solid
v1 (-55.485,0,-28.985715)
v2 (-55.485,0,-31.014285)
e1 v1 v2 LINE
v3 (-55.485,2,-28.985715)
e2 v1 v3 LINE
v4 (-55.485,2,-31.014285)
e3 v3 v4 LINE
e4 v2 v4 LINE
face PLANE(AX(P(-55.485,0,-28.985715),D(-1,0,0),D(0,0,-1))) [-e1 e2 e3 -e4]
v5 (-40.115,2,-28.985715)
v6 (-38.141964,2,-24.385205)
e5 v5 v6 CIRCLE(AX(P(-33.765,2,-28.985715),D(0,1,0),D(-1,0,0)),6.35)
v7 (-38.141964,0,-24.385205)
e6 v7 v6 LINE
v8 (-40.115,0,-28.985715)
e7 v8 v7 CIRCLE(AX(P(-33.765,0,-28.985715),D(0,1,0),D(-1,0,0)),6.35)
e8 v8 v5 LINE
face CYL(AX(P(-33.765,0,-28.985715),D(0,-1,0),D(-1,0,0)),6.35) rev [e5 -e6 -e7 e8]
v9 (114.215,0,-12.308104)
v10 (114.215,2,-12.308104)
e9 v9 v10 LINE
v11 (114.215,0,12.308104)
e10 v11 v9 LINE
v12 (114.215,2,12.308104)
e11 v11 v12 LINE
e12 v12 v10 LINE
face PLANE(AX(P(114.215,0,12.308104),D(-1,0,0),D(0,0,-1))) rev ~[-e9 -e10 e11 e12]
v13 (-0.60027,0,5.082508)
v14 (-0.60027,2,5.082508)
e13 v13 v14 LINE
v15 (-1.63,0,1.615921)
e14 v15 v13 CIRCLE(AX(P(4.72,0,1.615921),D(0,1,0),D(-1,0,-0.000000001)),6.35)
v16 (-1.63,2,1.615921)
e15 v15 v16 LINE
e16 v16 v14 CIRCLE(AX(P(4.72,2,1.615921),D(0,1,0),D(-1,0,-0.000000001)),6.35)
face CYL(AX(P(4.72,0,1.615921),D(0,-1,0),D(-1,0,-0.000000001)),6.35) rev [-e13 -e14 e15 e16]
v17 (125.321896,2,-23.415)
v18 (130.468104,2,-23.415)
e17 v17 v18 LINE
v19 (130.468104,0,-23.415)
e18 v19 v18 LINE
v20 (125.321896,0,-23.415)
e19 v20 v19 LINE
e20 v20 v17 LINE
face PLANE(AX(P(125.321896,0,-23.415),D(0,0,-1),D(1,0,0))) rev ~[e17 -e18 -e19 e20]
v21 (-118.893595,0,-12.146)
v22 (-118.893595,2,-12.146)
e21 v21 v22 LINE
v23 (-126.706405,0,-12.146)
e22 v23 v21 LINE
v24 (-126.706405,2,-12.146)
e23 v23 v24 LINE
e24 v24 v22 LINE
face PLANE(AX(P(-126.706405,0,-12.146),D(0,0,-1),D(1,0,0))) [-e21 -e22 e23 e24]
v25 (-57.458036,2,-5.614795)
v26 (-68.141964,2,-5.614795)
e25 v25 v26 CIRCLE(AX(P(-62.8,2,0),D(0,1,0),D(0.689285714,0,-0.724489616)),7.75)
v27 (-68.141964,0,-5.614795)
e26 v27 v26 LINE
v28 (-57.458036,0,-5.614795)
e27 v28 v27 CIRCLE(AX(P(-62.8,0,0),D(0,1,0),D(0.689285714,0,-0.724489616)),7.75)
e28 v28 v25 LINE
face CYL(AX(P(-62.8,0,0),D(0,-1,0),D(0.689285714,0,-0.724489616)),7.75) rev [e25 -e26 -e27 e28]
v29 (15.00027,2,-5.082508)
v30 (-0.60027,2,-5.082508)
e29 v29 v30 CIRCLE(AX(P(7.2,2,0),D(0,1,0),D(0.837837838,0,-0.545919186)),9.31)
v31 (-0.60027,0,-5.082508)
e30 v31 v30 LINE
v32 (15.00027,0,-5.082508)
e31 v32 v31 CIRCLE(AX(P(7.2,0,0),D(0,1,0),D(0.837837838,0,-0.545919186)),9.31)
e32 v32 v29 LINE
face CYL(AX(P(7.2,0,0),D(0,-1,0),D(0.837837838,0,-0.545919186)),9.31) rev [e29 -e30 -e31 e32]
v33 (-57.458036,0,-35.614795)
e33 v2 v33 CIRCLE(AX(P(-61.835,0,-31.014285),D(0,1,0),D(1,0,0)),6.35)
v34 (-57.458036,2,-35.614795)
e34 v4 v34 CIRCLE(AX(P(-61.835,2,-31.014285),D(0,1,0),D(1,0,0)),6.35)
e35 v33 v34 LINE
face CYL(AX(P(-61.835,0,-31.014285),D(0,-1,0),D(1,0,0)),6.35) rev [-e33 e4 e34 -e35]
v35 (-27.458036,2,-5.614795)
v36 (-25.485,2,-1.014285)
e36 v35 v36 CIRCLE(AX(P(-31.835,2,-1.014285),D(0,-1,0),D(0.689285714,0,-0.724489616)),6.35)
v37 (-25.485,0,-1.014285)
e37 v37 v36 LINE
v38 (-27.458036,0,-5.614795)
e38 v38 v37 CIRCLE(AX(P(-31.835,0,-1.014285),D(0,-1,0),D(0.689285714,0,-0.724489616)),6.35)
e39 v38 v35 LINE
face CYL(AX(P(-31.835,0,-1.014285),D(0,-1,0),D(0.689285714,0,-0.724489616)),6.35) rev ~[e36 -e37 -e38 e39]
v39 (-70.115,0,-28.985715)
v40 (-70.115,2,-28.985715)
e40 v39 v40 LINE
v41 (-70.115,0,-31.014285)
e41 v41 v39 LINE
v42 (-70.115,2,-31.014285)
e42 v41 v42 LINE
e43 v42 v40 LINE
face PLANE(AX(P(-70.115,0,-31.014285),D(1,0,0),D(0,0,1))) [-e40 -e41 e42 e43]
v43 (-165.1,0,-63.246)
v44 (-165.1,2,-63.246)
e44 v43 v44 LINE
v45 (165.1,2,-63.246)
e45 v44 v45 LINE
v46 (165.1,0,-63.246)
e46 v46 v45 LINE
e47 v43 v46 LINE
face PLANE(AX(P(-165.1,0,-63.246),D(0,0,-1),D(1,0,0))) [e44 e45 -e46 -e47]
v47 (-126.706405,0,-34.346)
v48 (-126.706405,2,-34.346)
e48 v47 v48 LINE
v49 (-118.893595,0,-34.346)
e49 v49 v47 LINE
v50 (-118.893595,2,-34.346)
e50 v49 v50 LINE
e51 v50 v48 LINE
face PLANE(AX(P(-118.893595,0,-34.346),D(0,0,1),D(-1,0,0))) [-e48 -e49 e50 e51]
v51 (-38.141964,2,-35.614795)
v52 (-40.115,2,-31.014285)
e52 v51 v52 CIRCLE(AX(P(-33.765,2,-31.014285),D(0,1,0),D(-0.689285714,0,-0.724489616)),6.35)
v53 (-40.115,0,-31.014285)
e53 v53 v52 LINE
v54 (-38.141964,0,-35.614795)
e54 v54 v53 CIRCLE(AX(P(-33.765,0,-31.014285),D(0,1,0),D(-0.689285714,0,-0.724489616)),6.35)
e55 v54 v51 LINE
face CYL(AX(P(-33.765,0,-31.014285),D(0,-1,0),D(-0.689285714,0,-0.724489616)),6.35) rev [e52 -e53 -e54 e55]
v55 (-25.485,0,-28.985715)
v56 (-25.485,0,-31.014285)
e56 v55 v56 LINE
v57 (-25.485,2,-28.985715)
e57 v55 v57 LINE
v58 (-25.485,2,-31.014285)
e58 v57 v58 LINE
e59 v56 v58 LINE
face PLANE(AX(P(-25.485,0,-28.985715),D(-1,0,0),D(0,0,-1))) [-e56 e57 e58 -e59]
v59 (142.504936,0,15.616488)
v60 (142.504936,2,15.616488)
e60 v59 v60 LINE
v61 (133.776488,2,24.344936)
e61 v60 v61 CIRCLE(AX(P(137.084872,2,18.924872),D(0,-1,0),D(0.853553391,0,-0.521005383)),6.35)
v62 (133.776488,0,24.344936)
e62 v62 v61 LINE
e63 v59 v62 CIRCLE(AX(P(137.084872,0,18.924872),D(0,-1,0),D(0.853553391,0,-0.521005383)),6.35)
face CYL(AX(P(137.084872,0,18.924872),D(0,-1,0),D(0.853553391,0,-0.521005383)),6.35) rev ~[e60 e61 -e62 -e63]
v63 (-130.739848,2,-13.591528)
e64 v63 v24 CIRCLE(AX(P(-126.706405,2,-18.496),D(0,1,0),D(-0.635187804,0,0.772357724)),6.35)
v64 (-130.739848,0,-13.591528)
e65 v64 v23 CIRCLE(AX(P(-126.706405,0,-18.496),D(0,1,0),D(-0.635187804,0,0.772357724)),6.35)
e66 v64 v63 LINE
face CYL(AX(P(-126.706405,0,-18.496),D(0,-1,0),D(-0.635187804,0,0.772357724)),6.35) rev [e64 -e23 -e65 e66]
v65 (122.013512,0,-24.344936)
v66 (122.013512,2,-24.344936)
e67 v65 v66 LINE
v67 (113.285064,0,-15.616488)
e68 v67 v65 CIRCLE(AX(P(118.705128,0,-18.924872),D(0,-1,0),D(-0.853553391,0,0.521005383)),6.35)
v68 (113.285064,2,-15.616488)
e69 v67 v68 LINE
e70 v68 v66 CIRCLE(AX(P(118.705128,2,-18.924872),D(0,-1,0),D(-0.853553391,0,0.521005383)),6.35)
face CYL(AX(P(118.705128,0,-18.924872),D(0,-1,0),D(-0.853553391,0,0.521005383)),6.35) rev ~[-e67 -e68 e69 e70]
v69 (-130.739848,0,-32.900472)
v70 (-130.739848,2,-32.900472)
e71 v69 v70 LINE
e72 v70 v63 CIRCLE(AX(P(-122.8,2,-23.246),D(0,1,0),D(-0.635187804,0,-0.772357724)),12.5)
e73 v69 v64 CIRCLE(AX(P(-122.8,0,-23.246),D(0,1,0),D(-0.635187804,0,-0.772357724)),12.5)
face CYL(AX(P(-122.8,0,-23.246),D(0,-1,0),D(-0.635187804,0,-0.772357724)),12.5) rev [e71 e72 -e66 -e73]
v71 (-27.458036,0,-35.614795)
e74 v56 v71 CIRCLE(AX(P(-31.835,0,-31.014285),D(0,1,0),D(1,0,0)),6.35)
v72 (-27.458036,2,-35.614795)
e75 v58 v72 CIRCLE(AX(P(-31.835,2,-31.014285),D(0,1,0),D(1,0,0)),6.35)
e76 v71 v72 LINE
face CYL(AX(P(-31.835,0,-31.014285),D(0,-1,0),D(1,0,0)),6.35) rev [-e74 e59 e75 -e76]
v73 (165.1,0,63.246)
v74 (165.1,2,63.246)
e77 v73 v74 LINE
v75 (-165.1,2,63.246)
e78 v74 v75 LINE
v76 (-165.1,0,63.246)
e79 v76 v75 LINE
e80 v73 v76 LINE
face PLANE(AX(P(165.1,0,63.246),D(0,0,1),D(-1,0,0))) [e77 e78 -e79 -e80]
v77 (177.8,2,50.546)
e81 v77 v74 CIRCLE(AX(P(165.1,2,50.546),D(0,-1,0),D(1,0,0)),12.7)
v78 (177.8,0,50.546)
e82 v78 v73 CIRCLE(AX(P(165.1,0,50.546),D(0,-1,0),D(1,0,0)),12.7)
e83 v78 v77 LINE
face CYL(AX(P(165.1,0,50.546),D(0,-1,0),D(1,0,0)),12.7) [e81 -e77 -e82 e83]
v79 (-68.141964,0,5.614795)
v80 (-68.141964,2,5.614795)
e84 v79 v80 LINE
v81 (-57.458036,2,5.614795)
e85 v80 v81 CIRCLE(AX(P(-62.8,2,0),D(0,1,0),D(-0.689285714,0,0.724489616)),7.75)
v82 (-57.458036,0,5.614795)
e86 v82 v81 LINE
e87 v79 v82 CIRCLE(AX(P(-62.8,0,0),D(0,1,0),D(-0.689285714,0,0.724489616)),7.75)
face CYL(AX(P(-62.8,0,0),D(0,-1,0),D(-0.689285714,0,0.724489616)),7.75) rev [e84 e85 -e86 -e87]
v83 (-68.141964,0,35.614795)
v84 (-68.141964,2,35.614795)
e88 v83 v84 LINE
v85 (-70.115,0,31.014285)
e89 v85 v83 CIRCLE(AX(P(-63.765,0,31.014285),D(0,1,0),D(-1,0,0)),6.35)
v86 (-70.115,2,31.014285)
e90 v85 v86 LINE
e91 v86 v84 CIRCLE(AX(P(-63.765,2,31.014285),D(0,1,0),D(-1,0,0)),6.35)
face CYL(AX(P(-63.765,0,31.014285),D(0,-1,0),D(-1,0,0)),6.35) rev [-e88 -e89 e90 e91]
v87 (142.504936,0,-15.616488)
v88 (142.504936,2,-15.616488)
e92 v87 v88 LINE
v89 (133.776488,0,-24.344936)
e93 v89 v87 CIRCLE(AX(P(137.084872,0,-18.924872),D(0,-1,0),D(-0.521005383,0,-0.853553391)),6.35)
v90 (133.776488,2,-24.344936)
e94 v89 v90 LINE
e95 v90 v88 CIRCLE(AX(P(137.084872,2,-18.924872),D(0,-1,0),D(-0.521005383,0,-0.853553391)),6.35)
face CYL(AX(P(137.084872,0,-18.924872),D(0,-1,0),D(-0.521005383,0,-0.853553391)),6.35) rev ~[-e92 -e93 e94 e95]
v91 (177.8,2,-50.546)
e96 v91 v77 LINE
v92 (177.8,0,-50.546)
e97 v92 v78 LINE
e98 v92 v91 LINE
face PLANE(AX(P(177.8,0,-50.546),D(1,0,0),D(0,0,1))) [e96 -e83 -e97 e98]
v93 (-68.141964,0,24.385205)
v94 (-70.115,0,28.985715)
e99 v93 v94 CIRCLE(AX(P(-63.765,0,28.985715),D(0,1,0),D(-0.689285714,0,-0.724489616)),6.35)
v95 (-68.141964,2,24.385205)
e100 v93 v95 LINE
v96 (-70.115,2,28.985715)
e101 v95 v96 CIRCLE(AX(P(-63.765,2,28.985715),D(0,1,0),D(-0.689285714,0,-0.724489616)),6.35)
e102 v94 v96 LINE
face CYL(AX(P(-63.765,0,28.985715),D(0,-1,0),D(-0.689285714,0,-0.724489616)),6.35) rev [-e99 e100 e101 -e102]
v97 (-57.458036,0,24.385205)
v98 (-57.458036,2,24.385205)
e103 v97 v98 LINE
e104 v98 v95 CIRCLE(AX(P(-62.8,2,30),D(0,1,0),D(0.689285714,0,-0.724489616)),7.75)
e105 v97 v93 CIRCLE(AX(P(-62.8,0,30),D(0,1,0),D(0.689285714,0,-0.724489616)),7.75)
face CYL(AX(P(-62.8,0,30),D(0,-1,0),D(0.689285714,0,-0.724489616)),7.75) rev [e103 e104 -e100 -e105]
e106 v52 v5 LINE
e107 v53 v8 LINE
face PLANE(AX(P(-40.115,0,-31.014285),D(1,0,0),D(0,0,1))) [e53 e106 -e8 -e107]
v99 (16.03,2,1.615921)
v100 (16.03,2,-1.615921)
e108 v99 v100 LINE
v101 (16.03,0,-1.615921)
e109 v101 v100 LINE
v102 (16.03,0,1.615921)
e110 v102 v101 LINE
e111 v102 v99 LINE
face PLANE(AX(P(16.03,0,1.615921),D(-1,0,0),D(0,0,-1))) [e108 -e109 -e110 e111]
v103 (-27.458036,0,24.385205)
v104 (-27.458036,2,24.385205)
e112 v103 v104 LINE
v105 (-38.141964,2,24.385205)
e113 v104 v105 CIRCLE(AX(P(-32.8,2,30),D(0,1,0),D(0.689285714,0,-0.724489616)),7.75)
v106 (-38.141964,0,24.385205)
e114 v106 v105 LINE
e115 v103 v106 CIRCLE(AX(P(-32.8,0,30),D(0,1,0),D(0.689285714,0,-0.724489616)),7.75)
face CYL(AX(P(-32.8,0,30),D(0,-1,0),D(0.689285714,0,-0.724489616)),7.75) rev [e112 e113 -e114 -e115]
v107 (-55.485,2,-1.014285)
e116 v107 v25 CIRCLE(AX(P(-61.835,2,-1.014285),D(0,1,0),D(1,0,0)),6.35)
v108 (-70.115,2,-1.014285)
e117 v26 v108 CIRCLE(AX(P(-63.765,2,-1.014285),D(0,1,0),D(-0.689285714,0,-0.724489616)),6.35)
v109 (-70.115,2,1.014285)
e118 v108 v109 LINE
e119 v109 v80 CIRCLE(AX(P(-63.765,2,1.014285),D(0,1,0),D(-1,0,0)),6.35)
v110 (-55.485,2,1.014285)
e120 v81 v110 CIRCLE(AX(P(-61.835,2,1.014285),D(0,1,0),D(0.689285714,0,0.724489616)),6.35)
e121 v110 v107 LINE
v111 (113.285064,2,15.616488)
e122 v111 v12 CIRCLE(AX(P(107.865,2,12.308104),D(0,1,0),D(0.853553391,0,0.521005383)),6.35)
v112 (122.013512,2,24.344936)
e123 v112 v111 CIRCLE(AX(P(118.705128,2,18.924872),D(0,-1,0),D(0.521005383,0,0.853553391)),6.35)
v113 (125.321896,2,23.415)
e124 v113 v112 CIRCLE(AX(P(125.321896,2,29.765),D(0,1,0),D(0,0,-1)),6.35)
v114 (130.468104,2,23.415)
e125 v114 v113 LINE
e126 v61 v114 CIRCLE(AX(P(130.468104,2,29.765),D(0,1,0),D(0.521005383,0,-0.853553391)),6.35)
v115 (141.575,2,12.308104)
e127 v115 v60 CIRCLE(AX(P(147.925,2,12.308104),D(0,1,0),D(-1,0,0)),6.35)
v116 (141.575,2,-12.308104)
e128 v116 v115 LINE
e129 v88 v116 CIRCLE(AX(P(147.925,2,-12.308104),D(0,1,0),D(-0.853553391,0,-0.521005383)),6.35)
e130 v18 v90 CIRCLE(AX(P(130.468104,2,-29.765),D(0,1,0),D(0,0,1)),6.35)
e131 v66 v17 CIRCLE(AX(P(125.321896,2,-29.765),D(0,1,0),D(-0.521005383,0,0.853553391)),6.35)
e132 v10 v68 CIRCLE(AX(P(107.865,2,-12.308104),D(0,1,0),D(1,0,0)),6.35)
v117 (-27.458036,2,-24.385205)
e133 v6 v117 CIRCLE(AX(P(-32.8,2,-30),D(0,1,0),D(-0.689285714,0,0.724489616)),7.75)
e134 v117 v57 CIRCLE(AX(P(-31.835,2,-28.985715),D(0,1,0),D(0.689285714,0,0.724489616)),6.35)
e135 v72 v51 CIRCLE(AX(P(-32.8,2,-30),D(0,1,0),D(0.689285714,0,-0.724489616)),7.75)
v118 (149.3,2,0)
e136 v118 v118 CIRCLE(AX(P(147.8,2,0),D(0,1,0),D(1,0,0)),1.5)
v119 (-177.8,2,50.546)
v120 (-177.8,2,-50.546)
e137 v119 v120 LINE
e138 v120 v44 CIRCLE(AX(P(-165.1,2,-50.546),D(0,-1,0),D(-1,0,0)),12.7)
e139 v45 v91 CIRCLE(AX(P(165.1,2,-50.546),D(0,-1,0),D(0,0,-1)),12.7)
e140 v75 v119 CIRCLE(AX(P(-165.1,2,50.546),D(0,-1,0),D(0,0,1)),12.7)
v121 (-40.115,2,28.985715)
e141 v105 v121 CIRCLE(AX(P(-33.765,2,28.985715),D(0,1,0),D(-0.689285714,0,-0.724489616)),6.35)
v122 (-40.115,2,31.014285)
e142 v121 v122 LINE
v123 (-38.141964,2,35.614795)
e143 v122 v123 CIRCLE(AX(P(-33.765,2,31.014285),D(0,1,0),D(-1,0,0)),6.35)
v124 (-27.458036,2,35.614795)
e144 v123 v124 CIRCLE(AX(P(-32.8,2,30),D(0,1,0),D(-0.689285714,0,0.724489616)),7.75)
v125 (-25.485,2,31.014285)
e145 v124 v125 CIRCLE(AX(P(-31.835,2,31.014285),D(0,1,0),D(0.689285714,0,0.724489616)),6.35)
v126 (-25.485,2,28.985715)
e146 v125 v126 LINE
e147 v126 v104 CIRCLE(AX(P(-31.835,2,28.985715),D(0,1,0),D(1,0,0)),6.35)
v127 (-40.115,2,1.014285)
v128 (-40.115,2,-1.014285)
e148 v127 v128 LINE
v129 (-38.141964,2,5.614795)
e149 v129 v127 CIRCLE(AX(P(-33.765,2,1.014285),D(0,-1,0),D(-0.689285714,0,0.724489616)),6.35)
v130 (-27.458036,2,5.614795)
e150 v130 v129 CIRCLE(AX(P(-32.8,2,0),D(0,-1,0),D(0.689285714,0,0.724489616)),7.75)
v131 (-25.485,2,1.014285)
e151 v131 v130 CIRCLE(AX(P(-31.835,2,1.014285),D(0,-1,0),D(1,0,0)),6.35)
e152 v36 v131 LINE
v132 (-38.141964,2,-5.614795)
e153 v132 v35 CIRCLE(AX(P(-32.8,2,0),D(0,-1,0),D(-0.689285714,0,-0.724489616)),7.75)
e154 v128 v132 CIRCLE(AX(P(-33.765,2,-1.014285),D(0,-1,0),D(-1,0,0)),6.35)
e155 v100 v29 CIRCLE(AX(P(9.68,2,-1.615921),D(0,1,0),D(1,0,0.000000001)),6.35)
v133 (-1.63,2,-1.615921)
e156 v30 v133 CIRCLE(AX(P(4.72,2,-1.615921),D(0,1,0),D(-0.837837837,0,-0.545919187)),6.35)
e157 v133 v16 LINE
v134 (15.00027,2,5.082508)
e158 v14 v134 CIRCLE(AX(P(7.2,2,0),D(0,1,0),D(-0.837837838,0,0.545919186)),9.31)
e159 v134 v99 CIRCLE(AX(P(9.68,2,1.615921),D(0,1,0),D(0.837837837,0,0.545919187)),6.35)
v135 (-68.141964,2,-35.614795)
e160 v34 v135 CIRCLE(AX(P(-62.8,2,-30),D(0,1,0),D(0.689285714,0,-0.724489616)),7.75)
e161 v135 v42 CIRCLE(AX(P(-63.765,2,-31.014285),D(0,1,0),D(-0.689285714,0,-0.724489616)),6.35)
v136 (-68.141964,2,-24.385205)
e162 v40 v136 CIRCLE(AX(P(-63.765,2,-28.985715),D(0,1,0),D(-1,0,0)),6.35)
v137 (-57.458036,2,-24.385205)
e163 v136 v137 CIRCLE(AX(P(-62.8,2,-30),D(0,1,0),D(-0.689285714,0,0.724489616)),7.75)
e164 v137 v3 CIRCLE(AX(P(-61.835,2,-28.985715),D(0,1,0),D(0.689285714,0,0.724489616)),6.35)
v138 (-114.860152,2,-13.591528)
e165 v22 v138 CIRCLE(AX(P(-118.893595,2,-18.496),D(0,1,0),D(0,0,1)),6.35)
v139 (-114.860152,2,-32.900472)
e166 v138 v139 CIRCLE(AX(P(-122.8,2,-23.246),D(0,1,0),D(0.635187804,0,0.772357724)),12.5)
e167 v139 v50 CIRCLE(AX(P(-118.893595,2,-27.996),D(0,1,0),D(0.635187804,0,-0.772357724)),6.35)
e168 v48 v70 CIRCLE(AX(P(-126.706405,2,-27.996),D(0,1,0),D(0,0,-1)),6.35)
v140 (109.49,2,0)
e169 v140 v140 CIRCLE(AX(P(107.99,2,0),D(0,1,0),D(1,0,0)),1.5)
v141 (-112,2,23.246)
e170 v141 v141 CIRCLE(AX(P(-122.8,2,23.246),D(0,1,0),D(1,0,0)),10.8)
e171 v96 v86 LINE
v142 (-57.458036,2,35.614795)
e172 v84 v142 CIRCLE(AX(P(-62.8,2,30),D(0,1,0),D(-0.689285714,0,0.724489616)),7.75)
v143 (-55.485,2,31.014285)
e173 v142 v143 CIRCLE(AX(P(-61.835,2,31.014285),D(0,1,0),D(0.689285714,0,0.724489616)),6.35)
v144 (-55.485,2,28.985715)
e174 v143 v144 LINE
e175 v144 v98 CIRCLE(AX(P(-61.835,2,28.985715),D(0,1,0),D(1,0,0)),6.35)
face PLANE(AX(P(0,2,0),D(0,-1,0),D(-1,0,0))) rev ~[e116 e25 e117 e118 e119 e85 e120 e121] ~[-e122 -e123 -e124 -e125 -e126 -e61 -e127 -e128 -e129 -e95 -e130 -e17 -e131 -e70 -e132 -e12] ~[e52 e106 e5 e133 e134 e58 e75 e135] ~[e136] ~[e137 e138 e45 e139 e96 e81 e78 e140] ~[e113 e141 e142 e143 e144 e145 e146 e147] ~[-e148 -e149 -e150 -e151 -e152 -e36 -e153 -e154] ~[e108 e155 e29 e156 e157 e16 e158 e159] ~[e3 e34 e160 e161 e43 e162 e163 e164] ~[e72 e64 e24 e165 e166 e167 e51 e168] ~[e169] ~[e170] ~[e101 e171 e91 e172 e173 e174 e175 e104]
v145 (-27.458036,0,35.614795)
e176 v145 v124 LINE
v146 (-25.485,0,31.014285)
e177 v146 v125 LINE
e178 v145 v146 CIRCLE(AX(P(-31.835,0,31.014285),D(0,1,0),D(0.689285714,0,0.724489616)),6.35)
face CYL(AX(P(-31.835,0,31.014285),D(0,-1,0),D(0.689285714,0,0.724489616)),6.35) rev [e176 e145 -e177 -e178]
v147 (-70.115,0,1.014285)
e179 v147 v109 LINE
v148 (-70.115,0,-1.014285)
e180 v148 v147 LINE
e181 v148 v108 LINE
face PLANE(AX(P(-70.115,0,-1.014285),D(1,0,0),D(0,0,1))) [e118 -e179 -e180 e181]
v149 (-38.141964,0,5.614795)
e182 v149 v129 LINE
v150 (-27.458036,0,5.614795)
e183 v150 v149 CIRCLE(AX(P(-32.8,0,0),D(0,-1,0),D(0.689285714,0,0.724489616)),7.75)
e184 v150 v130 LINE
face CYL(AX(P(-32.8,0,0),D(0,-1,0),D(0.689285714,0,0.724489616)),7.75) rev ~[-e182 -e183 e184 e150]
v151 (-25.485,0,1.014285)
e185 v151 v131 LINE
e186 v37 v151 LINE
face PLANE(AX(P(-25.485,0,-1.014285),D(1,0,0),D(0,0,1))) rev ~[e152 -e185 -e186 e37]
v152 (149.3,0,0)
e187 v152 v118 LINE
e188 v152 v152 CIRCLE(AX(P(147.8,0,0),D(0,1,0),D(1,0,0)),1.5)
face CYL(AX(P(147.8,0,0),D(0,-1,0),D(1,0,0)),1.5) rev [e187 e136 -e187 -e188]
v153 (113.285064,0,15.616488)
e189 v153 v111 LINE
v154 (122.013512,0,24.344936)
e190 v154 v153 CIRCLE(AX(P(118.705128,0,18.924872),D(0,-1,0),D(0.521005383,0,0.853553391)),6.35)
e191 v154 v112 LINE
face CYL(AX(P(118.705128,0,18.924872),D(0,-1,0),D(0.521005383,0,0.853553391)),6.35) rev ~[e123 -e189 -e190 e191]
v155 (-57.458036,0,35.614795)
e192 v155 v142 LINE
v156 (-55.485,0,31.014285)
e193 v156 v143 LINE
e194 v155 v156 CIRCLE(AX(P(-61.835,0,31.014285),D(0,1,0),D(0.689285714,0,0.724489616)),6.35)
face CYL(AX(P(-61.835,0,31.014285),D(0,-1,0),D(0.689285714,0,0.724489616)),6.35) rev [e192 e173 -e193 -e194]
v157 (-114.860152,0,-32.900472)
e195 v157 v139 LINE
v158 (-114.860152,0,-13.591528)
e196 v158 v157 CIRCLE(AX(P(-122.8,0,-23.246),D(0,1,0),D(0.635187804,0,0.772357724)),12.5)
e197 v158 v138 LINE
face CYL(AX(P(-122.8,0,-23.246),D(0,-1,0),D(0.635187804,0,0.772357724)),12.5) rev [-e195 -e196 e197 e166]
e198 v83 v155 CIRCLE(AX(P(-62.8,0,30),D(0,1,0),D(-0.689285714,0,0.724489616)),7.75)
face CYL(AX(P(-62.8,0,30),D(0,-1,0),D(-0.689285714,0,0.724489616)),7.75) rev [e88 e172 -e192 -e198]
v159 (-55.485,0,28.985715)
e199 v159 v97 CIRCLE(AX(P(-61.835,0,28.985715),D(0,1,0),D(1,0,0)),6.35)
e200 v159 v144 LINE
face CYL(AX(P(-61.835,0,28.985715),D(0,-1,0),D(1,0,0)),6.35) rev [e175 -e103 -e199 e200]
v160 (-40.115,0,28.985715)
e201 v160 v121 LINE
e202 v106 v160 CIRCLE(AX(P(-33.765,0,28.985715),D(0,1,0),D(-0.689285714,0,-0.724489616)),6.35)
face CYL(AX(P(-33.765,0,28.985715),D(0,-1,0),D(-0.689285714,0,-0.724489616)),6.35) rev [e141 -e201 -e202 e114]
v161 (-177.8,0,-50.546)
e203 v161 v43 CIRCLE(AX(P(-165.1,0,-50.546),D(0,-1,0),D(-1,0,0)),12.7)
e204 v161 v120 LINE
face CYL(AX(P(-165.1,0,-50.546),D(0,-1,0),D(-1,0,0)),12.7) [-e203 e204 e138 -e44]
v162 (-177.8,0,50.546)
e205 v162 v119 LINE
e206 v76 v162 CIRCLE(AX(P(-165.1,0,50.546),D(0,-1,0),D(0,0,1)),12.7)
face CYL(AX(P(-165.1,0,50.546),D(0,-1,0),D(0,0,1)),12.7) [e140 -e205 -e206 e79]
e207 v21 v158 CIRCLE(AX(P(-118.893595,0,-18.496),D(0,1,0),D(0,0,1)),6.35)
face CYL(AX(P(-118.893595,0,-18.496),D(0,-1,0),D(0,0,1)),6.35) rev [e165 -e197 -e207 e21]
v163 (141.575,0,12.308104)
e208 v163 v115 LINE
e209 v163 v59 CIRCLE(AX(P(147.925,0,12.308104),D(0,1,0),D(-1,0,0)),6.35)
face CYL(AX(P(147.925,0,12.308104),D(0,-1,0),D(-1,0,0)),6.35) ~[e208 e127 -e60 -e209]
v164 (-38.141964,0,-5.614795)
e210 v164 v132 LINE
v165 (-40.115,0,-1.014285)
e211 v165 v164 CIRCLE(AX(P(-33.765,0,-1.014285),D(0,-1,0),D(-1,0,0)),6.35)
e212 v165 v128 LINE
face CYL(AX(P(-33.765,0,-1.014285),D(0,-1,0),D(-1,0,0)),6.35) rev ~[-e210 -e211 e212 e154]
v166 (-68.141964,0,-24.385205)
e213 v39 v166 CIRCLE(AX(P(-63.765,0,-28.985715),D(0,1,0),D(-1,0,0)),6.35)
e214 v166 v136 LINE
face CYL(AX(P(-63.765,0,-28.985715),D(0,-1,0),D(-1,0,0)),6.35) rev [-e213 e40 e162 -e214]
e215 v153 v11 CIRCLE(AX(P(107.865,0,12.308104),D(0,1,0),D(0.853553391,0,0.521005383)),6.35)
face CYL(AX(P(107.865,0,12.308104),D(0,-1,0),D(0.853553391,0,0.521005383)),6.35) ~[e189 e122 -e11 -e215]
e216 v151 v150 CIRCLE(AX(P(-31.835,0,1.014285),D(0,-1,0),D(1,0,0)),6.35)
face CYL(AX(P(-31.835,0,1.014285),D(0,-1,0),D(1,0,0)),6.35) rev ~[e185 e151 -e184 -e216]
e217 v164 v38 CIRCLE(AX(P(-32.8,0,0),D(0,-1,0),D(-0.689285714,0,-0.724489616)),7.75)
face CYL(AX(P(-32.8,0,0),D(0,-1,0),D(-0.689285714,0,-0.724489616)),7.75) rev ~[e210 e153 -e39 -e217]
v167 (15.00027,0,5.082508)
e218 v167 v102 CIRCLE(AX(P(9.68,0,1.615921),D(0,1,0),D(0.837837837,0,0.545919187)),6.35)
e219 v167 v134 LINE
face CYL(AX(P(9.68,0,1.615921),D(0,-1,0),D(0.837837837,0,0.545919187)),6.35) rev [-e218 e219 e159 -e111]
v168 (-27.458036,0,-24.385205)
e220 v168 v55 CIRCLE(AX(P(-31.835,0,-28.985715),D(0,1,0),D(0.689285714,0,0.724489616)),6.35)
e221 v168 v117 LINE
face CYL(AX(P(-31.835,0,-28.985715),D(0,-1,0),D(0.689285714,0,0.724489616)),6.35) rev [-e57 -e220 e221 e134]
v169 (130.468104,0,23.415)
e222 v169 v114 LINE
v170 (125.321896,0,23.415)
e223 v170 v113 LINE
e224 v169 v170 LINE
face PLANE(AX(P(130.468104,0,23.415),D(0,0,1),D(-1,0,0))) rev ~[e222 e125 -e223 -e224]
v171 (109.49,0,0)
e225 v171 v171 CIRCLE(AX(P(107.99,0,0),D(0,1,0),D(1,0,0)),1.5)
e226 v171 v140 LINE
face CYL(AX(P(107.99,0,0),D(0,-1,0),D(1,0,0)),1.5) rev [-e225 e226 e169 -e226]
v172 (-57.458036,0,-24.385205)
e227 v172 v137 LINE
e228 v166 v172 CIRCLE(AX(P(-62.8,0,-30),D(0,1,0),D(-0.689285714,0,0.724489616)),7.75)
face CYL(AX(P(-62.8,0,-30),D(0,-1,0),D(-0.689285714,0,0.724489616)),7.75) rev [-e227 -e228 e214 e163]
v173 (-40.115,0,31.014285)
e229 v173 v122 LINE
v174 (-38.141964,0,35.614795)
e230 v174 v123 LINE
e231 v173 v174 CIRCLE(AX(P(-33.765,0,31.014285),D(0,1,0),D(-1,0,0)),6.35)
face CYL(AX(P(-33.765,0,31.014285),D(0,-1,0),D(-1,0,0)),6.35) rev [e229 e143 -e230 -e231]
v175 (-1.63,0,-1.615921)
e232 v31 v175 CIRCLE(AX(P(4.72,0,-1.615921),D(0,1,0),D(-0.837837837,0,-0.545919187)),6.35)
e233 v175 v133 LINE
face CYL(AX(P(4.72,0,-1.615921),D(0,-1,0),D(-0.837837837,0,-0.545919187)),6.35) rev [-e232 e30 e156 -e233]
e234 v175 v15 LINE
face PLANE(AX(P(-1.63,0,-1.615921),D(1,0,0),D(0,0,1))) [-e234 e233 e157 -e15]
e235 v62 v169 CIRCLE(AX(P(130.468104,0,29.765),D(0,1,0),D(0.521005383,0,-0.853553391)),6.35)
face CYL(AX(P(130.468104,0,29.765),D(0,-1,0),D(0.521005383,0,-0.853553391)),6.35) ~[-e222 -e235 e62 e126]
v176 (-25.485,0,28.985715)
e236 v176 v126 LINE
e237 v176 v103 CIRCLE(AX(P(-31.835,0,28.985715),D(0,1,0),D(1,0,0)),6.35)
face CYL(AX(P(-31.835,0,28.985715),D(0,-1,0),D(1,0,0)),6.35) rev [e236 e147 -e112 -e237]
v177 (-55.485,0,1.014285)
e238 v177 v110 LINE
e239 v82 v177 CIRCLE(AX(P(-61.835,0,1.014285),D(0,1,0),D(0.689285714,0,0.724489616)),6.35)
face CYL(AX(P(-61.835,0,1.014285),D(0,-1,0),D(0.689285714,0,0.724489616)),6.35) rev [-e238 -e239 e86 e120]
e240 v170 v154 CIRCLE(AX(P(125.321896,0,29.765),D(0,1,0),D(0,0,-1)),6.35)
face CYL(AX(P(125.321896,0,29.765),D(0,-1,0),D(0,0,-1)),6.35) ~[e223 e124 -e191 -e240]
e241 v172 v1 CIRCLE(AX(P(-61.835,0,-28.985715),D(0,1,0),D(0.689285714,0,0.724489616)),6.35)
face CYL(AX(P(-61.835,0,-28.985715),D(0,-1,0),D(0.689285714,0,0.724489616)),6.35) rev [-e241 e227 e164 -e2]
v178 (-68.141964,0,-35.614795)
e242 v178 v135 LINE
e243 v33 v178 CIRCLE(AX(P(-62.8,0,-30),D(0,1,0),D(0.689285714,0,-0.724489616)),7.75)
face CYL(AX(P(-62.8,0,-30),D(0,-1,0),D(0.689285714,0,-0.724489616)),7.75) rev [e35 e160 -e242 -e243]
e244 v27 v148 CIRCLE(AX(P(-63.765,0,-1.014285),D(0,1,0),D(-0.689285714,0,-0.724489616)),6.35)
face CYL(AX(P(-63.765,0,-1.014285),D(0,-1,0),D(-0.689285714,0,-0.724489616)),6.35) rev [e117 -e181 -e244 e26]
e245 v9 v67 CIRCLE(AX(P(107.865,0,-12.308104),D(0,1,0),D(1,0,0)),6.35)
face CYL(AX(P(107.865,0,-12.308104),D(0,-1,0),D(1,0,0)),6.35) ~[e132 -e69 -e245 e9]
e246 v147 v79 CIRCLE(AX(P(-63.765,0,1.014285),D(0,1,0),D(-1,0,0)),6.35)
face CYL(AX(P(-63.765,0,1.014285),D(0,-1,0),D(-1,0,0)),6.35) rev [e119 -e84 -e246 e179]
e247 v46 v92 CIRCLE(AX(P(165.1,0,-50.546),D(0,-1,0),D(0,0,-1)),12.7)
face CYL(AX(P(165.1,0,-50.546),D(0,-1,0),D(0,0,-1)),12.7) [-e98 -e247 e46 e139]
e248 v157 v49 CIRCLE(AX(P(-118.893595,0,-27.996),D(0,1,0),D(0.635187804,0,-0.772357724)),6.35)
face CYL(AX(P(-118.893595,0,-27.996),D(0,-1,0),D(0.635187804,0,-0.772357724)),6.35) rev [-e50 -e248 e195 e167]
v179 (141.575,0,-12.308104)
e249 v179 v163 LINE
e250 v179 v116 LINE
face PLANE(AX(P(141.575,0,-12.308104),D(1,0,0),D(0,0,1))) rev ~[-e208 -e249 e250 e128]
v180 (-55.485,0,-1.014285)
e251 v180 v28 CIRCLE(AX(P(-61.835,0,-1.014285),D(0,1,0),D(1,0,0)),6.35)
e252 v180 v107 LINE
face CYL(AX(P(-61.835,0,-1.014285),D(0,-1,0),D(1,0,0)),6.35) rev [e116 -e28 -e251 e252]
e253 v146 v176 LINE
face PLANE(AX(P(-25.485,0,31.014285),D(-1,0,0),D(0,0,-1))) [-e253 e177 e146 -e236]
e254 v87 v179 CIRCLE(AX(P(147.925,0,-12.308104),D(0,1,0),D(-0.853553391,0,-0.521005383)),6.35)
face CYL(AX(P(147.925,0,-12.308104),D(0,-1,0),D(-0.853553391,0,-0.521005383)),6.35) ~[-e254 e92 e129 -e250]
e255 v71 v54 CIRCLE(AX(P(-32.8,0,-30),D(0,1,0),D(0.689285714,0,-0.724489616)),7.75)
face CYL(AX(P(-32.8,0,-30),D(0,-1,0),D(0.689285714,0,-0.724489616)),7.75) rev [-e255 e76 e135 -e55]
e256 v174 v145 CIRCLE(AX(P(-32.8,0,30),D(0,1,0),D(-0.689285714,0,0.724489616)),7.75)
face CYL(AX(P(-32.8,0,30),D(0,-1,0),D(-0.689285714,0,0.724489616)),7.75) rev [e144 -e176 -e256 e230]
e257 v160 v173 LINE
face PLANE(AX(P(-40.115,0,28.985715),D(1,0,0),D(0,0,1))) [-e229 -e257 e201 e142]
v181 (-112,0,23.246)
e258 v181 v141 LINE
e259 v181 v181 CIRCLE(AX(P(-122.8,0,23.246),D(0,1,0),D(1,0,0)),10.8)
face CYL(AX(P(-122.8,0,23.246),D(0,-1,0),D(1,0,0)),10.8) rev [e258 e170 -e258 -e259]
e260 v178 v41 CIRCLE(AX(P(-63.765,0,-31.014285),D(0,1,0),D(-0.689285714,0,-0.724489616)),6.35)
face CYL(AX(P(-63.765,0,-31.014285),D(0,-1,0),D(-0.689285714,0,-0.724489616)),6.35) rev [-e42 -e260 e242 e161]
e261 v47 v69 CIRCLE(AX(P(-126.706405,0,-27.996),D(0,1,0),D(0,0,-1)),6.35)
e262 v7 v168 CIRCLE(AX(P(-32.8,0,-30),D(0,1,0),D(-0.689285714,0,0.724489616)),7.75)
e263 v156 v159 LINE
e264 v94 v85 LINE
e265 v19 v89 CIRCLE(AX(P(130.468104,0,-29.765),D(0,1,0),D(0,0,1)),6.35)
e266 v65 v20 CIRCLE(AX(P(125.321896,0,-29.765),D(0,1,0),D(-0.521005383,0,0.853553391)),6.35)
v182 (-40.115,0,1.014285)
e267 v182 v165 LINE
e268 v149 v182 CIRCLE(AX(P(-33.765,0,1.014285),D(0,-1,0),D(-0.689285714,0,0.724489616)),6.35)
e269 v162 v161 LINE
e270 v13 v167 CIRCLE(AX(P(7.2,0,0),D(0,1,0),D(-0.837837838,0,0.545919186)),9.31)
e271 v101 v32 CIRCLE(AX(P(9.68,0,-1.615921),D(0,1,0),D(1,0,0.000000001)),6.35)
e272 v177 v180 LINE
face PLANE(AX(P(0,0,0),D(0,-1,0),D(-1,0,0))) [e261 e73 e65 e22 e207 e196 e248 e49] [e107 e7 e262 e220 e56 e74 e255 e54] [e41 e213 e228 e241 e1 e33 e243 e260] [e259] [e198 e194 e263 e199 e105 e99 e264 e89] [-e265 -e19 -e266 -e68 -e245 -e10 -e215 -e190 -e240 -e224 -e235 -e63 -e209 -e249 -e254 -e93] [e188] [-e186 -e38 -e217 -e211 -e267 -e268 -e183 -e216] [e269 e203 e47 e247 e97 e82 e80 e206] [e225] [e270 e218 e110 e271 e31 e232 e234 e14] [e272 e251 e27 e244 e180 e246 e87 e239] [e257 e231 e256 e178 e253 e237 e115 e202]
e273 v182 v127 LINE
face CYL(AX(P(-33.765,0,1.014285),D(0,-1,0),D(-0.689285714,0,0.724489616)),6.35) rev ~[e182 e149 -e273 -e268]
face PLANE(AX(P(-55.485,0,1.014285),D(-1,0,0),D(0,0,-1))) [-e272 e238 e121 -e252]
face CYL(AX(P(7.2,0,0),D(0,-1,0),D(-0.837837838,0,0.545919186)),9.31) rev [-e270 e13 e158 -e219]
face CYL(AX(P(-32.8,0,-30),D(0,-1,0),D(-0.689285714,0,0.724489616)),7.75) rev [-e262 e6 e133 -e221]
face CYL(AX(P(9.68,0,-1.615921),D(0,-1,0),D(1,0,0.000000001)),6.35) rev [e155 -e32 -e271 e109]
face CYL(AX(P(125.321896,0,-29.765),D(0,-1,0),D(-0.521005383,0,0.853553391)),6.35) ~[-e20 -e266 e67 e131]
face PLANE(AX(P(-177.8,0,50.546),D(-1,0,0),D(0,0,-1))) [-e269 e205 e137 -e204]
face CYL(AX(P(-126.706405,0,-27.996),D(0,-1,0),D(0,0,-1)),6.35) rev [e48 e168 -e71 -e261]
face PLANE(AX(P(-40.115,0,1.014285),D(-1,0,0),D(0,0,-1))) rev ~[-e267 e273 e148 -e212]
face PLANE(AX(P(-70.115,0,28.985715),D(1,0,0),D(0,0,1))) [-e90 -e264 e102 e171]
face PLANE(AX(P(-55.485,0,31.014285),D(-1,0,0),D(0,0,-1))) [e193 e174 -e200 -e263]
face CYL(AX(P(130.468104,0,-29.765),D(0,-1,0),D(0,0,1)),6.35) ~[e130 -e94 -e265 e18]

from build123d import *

# Parameters (mm, degrees)
SKETCH1_R           = 10.8
SKETCH1_R_2         = 1.5
BOSS_EXTRUDE1_DEPTH = 2


with BuildPart() as part:
    # Sketch1 → Boss-Extrude1 (new body)
    with BuildSketch(Plane(origin=(0, 0, 0), x_dir=(1, 0, 0), z_dir=(0, 1, 0))):
        with BuildLine():
            Line((-165.1, 63.246), (165.1, 63.246))
            ThreePointArc((165.1, 63.246), (174.080256121, 59.526256121), (177.8, 50.546))
            Line((177.8, 50.546), (177.8, -50.546))
            ThreePointArc((177.8, -50.546), (174.080256121, -59.526256121), (165.1, -63.246))
            Line((165.1, -63.246), (-165.1, -63.246))
            ThreePointArc((-165.1, -63.246), (-174.080256121, -59.526256121), (-177.8, -50.546))
            Line((-177.8, -50.546), (-177.8, 50.546))
            ThreePointArc((-177.8, 50.546), (-174.080256121, 59.526256121), (-165.1, 63.246))
        make_face()
        with Locations((-122.8, -23.246)):
            Circle(SKETCH1_R, mode=Mode.SUBTRACT)
        with Locations((107.99, 0)):
            Circle(SKETCH1_R_2, mode=Mode.SUBTRACT)
        with Locations((147.8, 0)):
            Circle(SKETCH1_R_2, mode=Mode.SUBTRACT)
        with BuildLine():
            Line((-118.893595003, 34.346), (-126.706404997, 34.346))
            ThreePointArc((-126.706404997, 34.346), (-128.848729166, 33.973704171), (-130.739847555, 32.900471545))
            ThreePointArc((-130.739847555, 32.900471545), (-135.3, 23.246), (-130.739847555, 13.591528455))
            ThreePointArc((-130.739847555, 13.591528455), (-128.848729166, 12.518295829), (-126.706404997, 12.146))
            Line((-126.706404997, 12.146), (-118.893595003, 12.146))
            ThreePointArc((-118.893595003, 12.146), (-116.751270834, 12.518295829), (-114.860152445, 13.591528455))
            ThreePointArc((-114.860152445, 13.591528455), (-110.3, 23.246), (-114.860152445, 32.900471545))
            ThreePointArc((-114.860152445, 32.900471545), (-116.751270834, 33.973704171), (-118.893595003, 34.346))
        make_face(mode=Mode.SUBTRACT)
        with BuildLine():
            Line((-70.115, 31.014285463), (-70.115, 28.985714537))
            ThreePointArc((-70.115, 28.985714537), (-69.600932797, 26.482838513), (-68.141964286, 24.385205474))
            ThreePointArc((-68.141964286, 24.385205474), (-62.8, 22.25), (-57.458035714, 24.385205474))
            ThreePointArc((-57.458035714, 24.385205474), (-55.999067203, 26.482838513), (-55.485, 28.985714537))
            Line((-55.485, 28.985714537), (-55.485, 31.014285463))
            ThreePointArc((-55.485, 31.014285463), (-55.999067203, 33.517161487), (-57.458035714, 35.614794526))
            ThreePointArc((-57.458035714, 35.614794526), (-62.8, 37.75), (-68.141964286, 35.614794526))
            ThreePointArc((-68.141964286, 35.614794526), (-69.600932797, 33.517161487), (-70.115, 31.014285463))
        make_face(mode=Mode.SUBTRACT)
        with BuildLine():
            Line((-40.115, 31.014285463), (-40.115, 28.985714537))
            ThreePointArc((-40.115, 28.985714537), (-39.600932797, 26.482838513), (-38.141964286, 24.385205474))
            ThreePointArc((-38.141964286, 24.385205474), (-32.8, 22.25), (-27.458035714, 24.385205474))
            ThreePointArc((-27.458035714, 24.385205474), (-25.999067203, 26.482838513), (-25.485, 28.985714537))
            Line((-25.485, 28.985714537), (-25.485, 31.014285463))
            ThreePointArc((-25.485, 31.014285463), (-25.999067203, 33.517161487), (-27.458035714, 35.614794526))
            ThreePointArc((-27.458035714, 35.614794526), (-32.8, 37.75), (-38.141964286, 35.614794526))
            ThreePointArc((-38.141964286, 35.614794526), (-39.600932797, 33.517161487), (-40.115, 31.014285463))
        make_face(mode=Mode.SUBTRACT)
        with BuildLine():
            Line((-70.115, 1.014285463), (-70.115, -1.014285463))
            ThreePointArc((-70.115, -1.014285463), (-69.600932797, -3.517161487), (-68.141964286, -5.614794526))
            ThreePointArc((-68.141964286, -5.614794526), (-62.8, -7.75), (-57.458035714, -5.614794526))
            ThreePointArc((-57.458035714, -5.614794526), (-55.999067203, -3.517161487), (-55.485, -1.014285463))
            Line((-55.485, -1.014285463), (-55.485, 1.014285463))
            ThreePointArc((-55.485, 1.014285463), (-55.999067203, 3.517161487), (-57.458035714, 5.614794526))
            ThreePointArc((-57.458035714, 5.614794526), (-62.8, 7.75), (-68.141964286, 5.614794526))
            ThreePointArc((-68.141964286, 5.614794526), (-69.600932797, 3.517161487), (-70.115, 1.014285463))
        make_face(mode=Mode.SUBTRACT)
        with BuildLine():
            Line((-70.115, -28.985714537), (-70.115, -31.014285463))
            ThreePointArc((-70.115, -31.014285463), (-69.600932797, -33.517161487), (-68.141964286, -35.614794526))
            ThreePointArc((-68.141964286, -35.614794526), (-62.8, -37.75), (-57.458035714, -35.614794526))
            ThreePointArc((-57.458035714, -35.614794526), (-55.999067203, -33.517161487), (-55.485, -31.014285463))
            Line((-55.485, -31.014285463), (-55.485, -28.985714537))
            ThreePointArc((-55.485, -28.985714537), (-55.999067203, -26.482838513), (-57.458035714, -24.385205474))
            ThreePointArc((-57.458035714, -24.385205474), (-62.8, -22.25), (-68.141964286, -24.385205474))
            ThreePointArc((-68.141964286, -24.385205474), (-69.600932797, -26.482838513), (-70.115, -28.985714537))
        make_face(mode=Mode.SUBTRACT)
        with BuildLine():
            Line((-40.115, -28.985714537), (-40.115, -31.014285463))
            ThreePointArc((-40.115, -31.014285463), (-39.600932797, -33.517161487), (-38.141964286, -35.614794526))
            ThreePointArc((-38.141964286, -35.614794526), (-32.8, -37.75), (-27.458035714, -35.614794526))
            ThreePointArc((-27.458035714, -35.614794526), (-25.999067203, -33.517161487), (-25.485, -31.014285463))
            Line((-25.485, -31.014285463), (-25.485, -28.985714537))
            ThreePointArc((-25.485, -28.985714537), (-25.999067203, -26.482838513), (-27.458035714, -24.385205474))
            ThreePointArc((-27.458035714, -24.385205474), (-32.8, -22.25), (-38.141964286, -24.385205474))
            ThreePointArc((-38.141964286, -24.385205474), (-39.600932797, -26.482838513), (-40.115, -28.985714537))
        make_face(mode=Mode.SUBTRACT)
        with BuildLine():
            Line((-25.485, 1.014285463), (-25.485, -1.014285463))
            ThreePointArc((-25.485, -1.014285463), (-25.999067203, -3.517161487), (-27.458035714, -5.614794526))
            ThreePointArc((-27.458035714, -5.614794526), (-32.8, -7.75), (-38.141964286, -5.614794526))
            ThreePointArc((-38.141964286, -5.614794526), (-39.600932797, -3.517161487), (-40.115, -1.014285463))
            Line((-40.115, -1.014285463), (-40.115, 1.014285463))
            ThreePointArc((-40.115, 1.014285463), (-39.600932797, 3.517161487), (-38.141964286, 5.614794526))
            ThreePointArc((-38.141964286, 5.614794526), (-32.8, 7.75), (-27.458035714, 5.614794526))
            ThreePointArc((-27.458035714, 5.614794526), (-25.999067203, 3.517161487), (-25.485, 1.014285463))
        make_face(mode=Mode.SUBTRACT)
        with BuildLine():
            Line((-1.63, 1.61592079), (-1.63, -1.61592079))
            ThreePointArc((-1.63, -1.61592079), (-1.367126425, -3.424066772), (-0.60027027, -5.08250762))
            ThreePointArc((-0.60027027, -5.08250762), (7.2, -9.31), (15.00027027, -5.08250762))
            ThreePointArc((15.00027027, -5.08250762), (15.767126425, -3.424066772), (16.03, -1.61592079))
            Line((16.03, -1.61592079), (16.03, 1.61592079))
            ThreePointArc((16.03, 1.61592079), (15.767126425, 3.424066772), (15.00027027, 5.08250762))
            ThreePointArc((15.00027027, 5.08250762), (7.2, 9.31), (-0.60027027, 5.08250762))
            ThreePointArc((-0.60027027, 5.08250762), (-1.367126425, 3.424066772), (-1.63, 1.61592079))
        make_face(mode=Mode.SUBTRACT)
        with BuildLine():
            Line((125.321896428, 23.415), (130.468103572, 23.415))
            ThreePointArc((130.468103572, 23.415), (132.18640119, 23.651903134), (133.776487756, 24.34493597))
            ThreePointArc((133.776487756, 24.34493597), (141.575, 23.415), (142.50493597, 15.616487756))
            ThreePointArc((142.50493597, 15.616487756), (141.811903134, 14.02640119), (141.575, 12.308103572))
            Line((141.575, 12.308103572), (141.575, -12.308103572))
            ThreePointArc((141.575, -12.308103572), (141.811903134, -14.02640119), (142.50493597, -15.616487756))
            ThreePointArc((142.50493597, -15.616487756), (141.575, -23.415), (133.776487756, -24.34493597))
            ThreePointArc((133.776487756, -24.34493597), (132.18640119, -23.651903134), (130.468103572, -23.415))
            Line((130.468103572, -23.415), (125.321896428, -23.415))
            ThreePointArc((125.321896428, -23.415), (123.60359881, -23.651903134), (122.013512244, -24.34493597))
            ThreePointArc((122.013512244, -24.34493597), (114.215, -23.415), (113.28506403, -15.616487756))
            ThreePointArc((113.28506403, -15.616487756), (113.978096866, -14.02640119), (114.215, -12.308103572))
            Line((114.215, -12.308103572), (114.215, 12.308103572))
            ThreePointArc((114.215, 12.308103572), (113.978096866, 14.02640119), (113.28506403, 15.616487756))
            ThreePointArc((113.28506403, 15.616487756), (114.215, 23.415), (122.013512244, 24.34493597))
            ThreePointArc((122.013512244, 24.34493597), (123.60359881, 23.651903134), (125.321896428, 23.415))
        make_face(mode=Mode.SUBTRACT)
    extrude(amount=BOSS_EXTRUDE1_DEPTH)


solid = part.part
